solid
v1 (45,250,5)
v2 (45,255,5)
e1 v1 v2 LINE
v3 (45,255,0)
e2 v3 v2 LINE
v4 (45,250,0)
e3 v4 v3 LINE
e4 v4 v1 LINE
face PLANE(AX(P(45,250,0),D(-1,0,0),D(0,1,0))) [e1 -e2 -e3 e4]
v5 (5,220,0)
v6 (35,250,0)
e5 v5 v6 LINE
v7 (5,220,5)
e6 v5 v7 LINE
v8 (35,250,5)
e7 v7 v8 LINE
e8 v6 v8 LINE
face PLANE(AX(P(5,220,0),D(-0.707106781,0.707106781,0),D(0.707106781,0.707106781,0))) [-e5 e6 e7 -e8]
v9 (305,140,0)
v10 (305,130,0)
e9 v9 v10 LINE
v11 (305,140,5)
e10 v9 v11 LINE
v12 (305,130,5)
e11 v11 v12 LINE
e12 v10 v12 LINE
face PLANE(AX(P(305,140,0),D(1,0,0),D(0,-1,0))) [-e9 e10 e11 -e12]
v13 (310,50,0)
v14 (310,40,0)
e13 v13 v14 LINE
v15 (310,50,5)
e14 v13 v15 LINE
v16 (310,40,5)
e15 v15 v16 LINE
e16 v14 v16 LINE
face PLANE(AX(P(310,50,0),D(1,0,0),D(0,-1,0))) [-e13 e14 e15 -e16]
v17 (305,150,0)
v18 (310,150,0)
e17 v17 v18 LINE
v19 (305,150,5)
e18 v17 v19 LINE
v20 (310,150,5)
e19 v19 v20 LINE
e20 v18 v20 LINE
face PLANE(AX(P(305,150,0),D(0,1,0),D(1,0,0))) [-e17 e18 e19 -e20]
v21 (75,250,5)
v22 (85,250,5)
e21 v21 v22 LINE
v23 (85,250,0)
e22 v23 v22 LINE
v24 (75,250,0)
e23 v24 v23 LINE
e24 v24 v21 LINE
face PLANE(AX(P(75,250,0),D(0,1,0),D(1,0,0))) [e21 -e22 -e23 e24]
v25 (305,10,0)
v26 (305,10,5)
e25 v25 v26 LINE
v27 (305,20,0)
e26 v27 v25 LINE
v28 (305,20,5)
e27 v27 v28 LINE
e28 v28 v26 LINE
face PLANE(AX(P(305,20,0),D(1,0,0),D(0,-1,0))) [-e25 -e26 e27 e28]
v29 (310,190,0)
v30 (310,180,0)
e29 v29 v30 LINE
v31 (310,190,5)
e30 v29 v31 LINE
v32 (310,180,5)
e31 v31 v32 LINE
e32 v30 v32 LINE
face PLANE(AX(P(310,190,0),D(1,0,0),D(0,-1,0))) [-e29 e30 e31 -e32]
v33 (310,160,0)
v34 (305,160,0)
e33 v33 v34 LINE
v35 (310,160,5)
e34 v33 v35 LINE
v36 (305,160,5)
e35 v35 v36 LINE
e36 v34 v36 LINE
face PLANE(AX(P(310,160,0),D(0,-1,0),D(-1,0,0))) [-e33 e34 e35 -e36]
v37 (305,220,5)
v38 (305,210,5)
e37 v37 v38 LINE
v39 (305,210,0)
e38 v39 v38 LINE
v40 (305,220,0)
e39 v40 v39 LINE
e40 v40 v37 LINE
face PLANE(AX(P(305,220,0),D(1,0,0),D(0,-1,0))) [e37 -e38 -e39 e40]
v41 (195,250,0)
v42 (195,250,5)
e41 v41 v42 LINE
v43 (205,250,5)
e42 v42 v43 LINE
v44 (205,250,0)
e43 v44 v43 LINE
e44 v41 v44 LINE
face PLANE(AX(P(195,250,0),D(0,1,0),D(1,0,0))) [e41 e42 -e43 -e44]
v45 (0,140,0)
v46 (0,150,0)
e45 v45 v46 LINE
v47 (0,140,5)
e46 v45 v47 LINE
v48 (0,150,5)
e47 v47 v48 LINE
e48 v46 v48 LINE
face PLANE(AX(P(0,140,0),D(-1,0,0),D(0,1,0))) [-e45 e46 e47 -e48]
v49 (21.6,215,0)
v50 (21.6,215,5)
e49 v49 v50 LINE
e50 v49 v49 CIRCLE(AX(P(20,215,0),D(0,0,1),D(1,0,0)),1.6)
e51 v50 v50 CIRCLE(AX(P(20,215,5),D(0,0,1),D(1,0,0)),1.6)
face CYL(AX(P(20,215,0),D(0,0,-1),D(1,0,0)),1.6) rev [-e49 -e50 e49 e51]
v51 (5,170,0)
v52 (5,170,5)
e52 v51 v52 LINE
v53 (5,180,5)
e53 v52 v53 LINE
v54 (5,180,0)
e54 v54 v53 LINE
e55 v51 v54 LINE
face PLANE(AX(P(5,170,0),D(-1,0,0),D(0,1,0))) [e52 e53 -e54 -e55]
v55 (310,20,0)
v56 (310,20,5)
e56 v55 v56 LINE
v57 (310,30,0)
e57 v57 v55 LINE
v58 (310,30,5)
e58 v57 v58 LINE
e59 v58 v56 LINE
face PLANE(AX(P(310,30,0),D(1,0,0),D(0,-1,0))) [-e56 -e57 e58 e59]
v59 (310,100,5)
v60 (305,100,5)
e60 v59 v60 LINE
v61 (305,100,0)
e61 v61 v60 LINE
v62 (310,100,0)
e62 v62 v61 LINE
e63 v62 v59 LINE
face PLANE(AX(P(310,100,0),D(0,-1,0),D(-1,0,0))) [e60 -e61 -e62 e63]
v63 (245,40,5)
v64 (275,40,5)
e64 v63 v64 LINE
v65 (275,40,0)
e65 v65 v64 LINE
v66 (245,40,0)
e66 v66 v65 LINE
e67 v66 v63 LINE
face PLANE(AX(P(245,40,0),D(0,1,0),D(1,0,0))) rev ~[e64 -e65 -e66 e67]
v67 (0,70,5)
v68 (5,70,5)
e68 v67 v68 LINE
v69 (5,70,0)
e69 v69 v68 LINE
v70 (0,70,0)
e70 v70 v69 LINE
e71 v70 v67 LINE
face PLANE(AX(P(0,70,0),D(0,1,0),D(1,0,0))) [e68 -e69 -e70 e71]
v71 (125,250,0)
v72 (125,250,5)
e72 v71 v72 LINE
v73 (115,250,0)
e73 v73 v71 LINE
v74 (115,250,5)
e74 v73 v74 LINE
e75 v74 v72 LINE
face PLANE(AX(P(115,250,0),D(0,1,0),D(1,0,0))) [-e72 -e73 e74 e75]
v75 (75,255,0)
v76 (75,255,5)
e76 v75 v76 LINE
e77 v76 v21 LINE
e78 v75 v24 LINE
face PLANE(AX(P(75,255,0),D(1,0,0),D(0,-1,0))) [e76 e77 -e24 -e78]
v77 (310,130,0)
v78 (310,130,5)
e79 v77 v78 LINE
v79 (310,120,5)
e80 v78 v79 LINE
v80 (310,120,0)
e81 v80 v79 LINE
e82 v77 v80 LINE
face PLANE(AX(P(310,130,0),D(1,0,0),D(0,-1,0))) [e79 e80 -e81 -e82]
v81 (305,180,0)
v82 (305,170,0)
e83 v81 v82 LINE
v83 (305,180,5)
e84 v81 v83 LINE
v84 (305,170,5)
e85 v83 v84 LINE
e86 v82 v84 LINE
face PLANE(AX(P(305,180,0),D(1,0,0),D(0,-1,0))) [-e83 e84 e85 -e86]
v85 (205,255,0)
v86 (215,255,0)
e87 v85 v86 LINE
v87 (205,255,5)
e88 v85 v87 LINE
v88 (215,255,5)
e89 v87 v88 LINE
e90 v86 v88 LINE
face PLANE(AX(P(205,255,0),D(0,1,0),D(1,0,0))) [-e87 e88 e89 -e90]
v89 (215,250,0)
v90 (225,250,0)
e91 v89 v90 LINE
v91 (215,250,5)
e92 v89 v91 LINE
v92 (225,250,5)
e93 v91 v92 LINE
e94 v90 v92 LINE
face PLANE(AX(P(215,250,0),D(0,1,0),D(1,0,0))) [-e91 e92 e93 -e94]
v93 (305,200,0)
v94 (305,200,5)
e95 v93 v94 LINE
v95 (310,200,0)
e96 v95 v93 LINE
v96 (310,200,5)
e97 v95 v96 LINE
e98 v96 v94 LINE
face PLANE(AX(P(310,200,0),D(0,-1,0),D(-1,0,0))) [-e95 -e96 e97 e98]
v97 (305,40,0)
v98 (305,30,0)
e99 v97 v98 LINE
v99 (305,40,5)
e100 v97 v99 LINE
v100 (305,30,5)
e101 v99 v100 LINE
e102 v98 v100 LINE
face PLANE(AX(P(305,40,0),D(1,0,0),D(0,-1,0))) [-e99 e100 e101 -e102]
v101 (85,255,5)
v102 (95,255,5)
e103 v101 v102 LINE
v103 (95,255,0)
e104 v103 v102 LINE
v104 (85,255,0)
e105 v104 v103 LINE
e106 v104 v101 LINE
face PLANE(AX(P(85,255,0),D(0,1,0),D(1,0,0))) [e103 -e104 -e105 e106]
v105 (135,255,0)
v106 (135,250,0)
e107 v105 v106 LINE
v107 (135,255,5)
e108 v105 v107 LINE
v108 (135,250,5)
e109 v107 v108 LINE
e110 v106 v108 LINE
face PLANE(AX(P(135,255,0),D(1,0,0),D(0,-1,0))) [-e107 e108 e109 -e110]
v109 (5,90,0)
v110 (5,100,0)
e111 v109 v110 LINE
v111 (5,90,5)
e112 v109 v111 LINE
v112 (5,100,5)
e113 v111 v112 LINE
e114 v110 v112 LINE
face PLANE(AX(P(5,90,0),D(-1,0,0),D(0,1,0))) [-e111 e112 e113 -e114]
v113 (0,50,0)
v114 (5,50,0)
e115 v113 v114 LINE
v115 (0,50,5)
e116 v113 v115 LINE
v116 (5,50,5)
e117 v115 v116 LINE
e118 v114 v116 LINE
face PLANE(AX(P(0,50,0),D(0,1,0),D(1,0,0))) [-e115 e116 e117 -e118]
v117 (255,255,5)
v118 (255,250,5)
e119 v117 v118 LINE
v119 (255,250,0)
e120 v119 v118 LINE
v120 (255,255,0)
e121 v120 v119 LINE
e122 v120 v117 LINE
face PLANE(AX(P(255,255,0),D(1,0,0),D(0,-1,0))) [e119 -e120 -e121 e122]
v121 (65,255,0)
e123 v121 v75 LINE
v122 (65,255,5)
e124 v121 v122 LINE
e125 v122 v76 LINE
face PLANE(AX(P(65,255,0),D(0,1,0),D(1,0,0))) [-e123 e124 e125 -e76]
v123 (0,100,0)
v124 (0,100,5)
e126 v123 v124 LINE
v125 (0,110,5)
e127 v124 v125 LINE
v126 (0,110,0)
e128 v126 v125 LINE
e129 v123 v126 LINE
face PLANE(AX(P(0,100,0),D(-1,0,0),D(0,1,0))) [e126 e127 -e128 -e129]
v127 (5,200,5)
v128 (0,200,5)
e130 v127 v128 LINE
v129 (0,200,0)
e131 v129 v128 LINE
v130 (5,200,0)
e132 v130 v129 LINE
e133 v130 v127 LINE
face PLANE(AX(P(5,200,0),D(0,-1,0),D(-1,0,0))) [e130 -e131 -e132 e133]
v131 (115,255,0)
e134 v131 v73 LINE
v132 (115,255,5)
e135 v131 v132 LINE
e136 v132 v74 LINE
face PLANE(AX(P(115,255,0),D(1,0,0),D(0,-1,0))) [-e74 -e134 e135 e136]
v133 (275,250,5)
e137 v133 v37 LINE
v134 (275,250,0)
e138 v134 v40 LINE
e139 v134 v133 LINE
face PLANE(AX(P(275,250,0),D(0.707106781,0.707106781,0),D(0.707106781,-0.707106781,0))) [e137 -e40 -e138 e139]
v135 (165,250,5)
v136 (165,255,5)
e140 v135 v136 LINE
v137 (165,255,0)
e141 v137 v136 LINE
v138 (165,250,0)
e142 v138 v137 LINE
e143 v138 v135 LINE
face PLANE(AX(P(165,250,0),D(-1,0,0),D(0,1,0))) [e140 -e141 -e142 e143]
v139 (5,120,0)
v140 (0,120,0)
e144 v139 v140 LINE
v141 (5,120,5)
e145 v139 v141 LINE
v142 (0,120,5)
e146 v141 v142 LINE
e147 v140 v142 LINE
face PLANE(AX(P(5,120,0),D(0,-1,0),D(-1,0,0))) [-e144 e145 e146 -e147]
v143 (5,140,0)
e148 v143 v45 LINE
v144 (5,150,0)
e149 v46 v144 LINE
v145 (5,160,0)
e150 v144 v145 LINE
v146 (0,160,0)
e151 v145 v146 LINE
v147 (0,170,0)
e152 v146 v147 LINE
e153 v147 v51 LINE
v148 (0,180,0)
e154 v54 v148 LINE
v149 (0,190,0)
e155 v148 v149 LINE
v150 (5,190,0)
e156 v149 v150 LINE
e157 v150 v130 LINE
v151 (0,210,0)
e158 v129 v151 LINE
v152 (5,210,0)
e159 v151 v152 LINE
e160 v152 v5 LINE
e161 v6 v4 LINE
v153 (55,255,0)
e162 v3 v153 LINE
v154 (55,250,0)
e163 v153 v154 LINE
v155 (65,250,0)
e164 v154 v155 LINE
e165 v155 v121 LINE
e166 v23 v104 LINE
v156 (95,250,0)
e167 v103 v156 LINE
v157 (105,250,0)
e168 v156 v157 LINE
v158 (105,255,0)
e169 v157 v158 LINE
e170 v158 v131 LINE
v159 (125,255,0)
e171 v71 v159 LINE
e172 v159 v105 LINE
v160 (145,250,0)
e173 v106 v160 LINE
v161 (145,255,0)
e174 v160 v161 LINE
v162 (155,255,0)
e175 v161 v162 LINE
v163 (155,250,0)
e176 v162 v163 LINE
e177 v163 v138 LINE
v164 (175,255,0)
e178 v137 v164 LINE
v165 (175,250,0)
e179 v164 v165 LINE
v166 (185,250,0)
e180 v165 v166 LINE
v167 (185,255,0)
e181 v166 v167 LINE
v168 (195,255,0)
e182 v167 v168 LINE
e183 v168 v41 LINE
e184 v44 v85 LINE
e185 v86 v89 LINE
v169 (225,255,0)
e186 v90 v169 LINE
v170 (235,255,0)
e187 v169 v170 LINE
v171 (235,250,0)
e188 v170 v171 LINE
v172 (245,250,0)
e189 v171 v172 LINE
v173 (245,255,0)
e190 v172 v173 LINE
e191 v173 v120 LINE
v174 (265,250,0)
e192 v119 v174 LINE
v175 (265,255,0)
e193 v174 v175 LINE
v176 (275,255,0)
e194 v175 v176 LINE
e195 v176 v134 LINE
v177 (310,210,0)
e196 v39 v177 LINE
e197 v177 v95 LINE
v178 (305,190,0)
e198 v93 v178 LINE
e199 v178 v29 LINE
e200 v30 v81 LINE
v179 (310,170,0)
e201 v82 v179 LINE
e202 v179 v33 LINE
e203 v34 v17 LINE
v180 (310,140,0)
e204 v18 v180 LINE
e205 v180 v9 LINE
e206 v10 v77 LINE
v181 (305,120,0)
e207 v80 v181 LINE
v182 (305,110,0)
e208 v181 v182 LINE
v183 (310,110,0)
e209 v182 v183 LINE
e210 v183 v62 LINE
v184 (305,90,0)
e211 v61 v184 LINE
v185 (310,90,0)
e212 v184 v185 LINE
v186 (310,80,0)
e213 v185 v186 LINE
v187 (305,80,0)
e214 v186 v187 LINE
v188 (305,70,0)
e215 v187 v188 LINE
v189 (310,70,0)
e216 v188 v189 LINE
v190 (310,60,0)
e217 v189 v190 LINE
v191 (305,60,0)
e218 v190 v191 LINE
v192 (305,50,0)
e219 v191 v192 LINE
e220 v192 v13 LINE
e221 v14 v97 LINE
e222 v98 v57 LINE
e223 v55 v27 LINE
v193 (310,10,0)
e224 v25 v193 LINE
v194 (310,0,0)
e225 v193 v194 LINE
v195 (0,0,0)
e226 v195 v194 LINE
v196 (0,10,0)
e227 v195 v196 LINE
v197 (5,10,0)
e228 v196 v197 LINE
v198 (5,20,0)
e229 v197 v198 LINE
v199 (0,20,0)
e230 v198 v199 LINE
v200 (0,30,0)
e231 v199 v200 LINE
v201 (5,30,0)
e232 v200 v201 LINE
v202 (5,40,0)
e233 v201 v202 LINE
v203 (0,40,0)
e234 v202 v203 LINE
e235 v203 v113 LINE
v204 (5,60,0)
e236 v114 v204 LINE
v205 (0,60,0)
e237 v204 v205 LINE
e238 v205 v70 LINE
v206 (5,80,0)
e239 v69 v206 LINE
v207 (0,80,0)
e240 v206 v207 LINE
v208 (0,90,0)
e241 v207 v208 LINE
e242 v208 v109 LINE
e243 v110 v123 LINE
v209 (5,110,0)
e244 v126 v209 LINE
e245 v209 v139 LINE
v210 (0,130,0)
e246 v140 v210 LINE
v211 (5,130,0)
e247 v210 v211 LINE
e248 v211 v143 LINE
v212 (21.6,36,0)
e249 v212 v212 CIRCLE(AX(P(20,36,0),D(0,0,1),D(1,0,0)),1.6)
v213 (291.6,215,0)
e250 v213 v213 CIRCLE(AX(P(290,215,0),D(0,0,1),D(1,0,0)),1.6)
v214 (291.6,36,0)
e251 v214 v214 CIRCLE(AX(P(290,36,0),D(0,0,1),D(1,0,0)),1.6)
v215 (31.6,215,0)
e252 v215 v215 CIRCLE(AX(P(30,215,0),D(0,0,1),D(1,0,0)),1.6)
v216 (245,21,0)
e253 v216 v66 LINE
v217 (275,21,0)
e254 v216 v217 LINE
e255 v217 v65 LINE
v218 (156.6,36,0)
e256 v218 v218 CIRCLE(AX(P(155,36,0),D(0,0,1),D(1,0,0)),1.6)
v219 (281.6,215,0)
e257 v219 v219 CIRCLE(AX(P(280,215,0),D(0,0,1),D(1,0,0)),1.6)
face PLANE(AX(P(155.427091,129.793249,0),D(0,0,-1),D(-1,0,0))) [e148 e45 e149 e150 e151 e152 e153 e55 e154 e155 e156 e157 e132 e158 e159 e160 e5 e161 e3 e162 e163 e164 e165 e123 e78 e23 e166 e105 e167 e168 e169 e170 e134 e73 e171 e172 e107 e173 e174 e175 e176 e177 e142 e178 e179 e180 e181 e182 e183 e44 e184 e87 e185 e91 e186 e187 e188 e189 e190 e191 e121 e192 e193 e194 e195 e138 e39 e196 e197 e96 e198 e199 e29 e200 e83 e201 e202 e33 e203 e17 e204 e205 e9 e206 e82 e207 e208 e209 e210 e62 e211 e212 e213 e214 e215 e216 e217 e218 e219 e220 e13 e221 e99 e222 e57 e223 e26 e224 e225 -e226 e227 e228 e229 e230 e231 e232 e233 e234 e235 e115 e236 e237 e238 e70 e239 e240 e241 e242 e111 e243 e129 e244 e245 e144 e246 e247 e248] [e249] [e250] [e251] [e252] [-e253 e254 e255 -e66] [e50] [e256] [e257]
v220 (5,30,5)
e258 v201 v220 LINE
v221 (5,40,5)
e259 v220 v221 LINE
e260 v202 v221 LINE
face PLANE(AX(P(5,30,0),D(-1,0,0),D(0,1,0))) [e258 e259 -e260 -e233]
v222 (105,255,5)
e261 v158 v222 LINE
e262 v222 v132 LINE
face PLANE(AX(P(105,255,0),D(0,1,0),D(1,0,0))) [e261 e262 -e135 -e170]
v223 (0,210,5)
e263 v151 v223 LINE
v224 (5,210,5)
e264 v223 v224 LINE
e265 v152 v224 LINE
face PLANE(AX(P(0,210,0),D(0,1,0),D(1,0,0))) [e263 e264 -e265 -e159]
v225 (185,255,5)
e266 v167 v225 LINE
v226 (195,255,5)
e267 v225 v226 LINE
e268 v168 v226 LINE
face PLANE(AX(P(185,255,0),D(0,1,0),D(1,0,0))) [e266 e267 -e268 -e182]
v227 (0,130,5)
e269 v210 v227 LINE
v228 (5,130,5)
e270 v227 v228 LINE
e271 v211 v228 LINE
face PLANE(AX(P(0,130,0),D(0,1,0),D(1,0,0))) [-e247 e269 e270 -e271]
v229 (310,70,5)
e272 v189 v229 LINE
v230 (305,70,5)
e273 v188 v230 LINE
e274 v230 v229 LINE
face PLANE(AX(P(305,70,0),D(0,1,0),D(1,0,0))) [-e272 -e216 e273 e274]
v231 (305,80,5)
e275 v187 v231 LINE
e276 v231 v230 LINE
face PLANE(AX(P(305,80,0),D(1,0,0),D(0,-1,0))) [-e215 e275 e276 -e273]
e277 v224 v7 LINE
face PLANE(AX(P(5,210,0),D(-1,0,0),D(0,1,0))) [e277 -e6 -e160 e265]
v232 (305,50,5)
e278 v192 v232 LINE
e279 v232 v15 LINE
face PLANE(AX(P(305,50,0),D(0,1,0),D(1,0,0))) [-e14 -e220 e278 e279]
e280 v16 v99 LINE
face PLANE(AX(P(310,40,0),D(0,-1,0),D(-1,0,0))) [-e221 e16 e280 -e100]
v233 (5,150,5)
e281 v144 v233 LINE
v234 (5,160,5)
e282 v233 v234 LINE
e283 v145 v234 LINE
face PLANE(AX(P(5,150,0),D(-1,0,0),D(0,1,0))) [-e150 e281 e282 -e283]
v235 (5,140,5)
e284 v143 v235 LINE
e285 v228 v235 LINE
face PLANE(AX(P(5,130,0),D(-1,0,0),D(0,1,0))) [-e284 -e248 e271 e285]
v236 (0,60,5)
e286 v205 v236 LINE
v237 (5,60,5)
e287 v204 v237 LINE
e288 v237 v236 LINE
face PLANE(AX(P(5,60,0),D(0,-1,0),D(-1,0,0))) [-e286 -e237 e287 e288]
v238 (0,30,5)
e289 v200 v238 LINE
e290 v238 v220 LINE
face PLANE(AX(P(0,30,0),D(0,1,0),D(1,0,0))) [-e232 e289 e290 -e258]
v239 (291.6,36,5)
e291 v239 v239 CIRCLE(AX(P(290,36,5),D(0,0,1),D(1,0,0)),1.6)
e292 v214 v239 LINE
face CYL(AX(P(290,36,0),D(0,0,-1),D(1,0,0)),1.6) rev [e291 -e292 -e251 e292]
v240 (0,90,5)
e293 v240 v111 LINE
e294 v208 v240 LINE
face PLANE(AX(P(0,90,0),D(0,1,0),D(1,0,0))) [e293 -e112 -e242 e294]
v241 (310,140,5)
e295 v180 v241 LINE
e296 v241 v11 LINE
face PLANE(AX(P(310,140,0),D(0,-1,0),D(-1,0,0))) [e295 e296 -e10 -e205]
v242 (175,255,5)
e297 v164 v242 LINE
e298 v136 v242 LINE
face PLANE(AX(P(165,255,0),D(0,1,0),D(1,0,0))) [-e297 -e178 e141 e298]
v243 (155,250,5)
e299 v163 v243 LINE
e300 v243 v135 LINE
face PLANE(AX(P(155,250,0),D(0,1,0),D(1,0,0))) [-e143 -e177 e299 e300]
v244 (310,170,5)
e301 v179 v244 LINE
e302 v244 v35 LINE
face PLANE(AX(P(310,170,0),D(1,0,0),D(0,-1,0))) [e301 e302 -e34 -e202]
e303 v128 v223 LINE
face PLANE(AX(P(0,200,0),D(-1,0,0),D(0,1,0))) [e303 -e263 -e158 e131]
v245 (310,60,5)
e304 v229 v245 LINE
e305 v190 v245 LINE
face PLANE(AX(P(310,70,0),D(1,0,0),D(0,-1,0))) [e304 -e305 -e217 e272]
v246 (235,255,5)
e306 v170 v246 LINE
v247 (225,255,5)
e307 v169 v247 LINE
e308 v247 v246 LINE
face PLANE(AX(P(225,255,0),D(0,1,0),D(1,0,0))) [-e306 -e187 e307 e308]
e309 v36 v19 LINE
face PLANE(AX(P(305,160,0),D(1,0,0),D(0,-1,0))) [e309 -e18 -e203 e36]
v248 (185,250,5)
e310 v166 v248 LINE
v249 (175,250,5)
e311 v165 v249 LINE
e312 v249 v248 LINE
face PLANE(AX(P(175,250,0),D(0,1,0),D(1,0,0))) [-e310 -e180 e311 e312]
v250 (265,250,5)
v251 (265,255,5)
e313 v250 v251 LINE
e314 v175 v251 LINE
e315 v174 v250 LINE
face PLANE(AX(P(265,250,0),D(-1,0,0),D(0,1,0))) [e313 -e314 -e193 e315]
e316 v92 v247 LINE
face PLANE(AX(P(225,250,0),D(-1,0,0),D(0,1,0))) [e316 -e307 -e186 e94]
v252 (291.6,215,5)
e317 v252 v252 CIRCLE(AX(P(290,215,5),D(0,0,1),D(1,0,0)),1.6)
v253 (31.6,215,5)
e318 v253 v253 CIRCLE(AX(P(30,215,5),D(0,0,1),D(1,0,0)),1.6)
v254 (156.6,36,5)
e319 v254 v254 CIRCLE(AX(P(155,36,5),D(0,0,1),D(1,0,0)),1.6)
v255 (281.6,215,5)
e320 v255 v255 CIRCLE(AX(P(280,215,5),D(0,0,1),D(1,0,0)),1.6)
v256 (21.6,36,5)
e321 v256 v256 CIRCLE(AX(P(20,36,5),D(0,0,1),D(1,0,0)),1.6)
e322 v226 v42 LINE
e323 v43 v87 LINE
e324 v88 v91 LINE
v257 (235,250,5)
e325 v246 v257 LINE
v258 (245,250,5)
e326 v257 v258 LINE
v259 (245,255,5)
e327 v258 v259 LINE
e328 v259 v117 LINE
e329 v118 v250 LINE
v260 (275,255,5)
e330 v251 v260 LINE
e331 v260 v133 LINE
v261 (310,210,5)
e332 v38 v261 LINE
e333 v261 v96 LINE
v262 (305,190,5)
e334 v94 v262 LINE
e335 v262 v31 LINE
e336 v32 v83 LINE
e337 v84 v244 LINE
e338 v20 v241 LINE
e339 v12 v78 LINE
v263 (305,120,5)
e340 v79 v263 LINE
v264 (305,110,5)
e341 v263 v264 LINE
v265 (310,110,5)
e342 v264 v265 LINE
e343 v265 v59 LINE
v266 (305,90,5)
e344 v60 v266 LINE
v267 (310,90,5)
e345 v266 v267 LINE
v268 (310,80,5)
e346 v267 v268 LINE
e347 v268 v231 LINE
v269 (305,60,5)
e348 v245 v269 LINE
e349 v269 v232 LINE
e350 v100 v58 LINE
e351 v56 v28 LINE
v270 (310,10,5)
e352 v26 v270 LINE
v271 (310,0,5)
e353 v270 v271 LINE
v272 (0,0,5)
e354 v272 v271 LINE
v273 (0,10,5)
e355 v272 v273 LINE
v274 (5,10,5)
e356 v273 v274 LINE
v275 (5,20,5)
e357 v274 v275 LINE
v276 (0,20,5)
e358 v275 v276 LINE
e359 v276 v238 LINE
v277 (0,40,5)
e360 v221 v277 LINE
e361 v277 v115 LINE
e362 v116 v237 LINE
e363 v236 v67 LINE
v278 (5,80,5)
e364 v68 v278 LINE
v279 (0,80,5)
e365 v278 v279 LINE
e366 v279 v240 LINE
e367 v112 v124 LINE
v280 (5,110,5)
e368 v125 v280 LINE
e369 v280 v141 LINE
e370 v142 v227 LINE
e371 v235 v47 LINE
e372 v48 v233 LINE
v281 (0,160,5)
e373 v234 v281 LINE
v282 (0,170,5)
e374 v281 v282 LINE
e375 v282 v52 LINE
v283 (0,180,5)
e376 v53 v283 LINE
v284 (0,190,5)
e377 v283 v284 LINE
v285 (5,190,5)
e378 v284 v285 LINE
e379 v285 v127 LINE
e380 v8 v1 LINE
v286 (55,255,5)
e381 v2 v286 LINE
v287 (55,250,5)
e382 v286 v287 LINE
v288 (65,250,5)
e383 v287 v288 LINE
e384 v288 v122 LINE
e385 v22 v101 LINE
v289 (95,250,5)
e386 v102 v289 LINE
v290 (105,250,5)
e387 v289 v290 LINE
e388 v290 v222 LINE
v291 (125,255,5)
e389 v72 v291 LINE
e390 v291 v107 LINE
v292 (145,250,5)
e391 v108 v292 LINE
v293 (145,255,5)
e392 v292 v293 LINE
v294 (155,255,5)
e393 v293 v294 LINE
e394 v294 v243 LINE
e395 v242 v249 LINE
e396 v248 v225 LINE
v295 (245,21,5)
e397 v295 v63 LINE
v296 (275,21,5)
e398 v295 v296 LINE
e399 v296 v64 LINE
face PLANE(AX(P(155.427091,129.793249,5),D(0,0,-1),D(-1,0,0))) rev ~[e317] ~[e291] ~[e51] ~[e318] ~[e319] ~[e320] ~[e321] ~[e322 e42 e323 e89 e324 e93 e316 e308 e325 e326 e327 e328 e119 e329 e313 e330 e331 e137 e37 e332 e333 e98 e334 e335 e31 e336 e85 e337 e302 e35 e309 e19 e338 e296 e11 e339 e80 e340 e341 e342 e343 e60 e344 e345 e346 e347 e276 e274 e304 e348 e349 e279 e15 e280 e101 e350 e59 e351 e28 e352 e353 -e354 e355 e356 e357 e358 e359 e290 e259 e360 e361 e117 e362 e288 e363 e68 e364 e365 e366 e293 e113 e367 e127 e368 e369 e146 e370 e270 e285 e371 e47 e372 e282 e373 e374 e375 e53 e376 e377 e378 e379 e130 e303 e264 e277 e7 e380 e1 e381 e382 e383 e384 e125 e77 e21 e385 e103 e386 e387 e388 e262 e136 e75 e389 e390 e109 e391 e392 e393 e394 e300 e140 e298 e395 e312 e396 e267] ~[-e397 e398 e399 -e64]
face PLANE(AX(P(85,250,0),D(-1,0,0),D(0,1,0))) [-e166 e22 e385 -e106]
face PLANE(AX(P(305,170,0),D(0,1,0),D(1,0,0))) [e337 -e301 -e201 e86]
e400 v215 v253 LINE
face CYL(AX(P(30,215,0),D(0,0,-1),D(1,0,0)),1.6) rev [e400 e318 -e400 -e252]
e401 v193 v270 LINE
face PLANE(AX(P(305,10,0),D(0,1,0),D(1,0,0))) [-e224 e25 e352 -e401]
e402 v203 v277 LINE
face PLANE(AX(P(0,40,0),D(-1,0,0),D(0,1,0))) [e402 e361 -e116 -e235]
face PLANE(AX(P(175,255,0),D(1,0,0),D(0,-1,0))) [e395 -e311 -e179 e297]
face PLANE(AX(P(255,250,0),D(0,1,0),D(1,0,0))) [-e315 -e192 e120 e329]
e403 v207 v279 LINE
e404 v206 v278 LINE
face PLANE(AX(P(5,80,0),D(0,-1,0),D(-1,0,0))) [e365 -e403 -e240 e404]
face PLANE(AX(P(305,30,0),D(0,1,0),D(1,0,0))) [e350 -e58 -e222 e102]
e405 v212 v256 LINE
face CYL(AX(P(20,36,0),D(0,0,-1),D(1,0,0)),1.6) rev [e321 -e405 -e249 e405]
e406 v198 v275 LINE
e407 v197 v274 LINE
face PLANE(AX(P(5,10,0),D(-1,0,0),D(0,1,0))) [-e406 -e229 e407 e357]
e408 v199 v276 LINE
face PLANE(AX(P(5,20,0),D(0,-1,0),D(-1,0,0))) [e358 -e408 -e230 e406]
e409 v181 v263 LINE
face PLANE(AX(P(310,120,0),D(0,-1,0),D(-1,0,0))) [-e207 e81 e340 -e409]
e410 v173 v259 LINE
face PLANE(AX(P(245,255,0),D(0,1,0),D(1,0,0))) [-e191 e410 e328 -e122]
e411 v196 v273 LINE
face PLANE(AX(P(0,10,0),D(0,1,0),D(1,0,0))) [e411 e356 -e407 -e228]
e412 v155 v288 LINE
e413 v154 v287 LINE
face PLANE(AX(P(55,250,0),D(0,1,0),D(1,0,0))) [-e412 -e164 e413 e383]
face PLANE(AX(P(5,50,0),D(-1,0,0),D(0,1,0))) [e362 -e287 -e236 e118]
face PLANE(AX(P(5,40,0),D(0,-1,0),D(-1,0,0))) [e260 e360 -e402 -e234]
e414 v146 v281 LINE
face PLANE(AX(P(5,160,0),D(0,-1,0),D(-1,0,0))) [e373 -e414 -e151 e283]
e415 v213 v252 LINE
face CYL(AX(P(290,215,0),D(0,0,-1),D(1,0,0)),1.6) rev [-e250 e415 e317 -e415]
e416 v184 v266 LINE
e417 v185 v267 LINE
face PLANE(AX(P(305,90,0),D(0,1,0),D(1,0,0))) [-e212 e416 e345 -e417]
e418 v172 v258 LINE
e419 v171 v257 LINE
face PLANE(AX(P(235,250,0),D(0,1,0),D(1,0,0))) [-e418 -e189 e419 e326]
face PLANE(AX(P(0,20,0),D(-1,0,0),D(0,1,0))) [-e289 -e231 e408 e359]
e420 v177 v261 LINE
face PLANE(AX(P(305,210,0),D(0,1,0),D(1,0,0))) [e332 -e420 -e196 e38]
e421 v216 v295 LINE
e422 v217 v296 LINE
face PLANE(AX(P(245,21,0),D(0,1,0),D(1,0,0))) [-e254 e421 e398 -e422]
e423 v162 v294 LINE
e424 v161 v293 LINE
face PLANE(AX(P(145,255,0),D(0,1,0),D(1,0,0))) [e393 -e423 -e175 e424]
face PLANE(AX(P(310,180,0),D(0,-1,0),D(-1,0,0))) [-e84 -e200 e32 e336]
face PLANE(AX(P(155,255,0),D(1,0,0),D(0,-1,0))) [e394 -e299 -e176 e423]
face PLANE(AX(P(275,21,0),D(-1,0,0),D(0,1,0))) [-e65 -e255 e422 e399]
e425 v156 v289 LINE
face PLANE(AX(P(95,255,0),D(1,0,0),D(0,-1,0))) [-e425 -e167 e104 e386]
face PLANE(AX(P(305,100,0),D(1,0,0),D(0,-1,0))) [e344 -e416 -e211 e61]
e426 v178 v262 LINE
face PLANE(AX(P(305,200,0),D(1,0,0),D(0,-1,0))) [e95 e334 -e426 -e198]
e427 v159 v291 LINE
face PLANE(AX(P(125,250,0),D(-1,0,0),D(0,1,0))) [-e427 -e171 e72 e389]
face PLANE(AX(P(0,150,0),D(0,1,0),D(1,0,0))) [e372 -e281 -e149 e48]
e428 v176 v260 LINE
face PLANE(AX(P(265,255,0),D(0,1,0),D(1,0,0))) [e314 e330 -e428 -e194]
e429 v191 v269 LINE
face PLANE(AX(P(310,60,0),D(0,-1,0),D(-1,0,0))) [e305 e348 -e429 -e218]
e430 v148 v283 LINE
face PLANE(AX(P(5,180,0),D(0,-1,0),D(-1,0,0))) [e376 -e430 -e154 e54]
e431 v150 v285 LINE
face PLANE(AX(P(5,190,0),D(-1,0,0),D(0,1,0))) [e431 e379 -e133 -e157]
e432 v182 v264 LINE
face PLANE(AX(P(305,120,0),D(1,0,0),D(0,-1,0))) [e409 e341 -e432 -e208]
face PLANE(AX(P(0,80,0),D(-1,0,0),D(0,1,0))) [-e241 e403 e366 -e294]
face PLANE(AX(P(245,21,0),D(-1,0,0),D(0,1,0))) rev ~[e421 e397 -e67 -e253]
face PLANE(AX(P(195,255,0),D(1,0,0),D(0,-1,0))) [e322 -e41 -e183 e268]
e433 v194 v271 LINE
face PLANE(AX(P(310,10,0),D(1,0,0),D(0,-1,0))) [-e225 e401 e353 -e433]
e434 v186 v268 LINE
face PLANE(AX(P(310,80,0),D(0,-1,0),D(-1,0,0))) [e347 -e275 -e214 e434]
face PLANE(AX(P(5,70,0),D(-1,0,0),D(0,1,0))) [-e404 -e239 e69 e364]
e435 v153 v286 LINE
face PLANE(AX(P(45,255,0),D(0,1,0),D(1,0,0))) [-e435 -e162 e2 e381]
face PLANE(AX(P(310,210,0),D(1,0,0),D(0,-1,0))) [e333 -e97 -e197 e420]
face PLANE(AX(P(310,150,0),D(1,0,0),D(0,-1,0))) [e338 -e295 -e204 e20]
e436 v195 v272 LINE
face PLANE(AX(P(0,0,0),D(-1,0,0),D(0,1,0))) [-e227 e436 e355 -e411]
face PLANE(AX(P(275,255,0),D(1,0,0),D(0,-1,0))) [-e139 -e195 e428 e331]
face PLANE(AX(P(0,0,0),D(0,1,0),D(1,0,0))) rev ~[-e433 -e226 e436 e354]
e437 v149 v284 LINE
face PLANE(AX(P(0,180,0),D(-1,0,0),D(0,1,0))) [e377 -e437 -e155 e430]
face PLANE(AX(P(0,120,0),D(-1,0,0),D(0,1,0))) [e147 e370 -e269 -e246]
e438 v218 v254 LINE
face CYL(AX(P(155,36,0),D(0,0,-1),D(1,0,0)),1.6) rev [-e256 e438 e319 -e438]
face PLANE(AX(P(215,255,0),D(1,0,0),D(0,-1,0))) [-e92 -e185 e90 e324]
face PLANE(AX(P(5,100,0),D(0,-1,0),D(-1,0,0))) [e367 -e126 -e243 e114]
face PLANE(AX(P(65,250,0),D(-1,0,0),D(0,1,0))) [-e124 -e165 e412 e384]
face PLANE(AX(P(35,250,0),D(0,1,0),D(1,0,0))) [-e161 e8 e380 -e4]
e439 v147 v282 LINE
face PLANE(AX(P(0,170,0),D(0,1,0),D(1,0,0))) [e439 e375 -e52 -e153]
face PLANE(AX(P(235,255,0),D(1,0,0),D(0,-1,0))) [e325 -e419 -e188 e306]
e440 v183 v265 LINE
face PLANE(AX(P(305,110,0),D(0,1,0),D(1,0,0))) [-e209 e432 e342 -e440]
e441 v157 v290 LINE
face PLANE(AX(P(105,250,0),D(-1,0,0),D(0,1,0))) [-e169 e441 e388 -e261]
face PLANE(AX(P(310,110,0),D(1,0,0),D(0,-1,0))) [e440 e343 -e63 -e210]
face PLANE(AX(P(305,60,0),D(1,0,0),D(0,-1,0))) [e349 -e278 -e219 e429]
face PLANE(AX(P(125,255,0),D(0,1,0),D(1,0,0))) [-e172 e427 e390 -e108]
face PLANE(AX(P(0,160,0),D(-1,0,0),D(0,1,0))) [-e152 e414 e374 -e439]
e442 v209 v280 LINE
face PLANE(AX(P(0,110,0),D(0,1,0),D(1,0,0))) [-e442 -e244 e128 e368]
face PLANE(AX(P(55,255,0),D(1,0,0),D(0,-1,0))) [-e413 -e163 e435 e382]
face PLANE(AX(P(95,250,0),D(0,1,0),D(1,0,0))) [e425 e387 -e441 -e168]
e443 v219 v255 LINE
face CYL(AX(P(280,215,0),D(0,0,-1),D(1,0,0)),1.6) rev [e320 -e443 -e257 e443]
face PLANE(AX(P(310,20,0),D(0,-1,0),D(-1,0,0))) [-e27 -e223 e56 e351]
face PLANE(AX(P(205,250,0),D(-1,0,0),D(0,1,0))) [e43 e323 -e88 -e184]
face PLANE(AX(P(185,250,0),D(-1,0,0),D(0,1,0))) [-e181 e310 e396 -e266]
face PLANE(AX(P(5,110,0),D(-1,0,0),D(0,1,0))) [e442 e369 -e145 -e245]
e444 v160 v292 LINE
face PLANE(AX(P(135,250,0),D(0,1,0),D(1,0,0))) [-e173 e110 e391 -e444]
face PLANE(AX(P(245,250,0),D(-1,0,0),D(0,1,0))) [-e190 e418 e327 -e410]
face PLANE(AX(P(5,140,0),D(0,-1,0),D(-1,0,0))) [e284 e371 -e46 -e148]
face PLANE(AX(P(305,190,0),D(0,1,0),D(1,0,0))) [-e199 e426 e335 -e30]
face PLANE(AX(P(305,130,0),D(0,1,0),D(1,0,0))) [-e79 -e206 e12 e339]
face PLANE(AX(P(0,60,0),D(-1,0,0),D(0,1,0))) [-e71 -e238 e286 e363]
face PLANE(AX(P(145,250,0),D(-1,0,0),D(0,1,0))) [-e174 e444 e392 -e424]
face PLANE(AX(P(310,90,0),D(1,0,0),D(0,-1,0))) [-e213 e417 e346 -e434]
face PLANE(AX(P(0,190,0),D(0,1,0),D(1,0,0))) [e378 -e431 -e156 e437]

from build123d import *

# Parameters (mm, degrees)
SKIZZE1_R                       = 1.6
SKIZZE1_W                       = 30
SKIZZE1_H                       = 19
AUFSATZ_LINEAR_AUSTRAGEN1_DEPTH = 5


with BuildPart() as part:
    # Skizze1 → Aufsatz-Linear austragen1 (new body)
    with BuildSketch(Plane.XY):
        Polygon((5, 10), (5, 20), (0, 20), (0, 30), (5, 30), (5, 40), (0, 40), (0, 50), (5, 50), (5, 60), (0, 60), (0, 70), (5, 70), (5, 80), (0, 80), (0, 90), (5, 90), (5, 100), (0, 100), (0, 110), (5, 110), (5, 120), (0, 120), (0, 130), (5, 130), (5, 140), (0, 140), (0, 150), (5, 150), (5, 160), (0, 160), (0, 170), (5, 170), (5, 180), (0, 180), (0, 190), (5, 190), (5, 200), (0, 200), (0, 210), (5, 210), (5, 220), (35, 250), (45, 250), (45, 255), (55, 255), (55, 250), (65, 250), (65, 255), (75, 255), (75, 250), (85, 250), (85, 255), (95, 255), (95, 250), (105, 250), (105, 255), (115, 255), (115, 250), (125, 250), (125, 255), (135, 255), (135, 250), (145, 250), (145, 255), (155, 255), (155, 250), (165, 250), (165, 255), (175, 255), (175, 250), (185, 250), (185, 255), (195, 255), (195, 250), (205, 250), (205, 255), (215, 255), (215, 250), (225, 250), (225, 255), (235, 255), (235, 250), (245, 250), (245, 255), (255, 255), (255, 250), (265, 250), (265, 255), (275, 255), (275, 250), (305, 220), (305, 210), (310, 210), (310, 200), (305, 200), (305, 190), (310, 190), (310, 180), (305, 180), (305, 170), (310, 170), (310, 160), (305, 160), (305, 150), (310, 150), (310, 140), (305, 140), (305, 130), (310, 130), (310, 120), (305, 120), (305, 110), (310, 110), (310, 100), (305, 100), (305, 90), (310, 90), (310, 80), (305, 80), (305, 70), (310, 70), (310, 60), (305, 60), (305, 50), (310, 50), (310, 40), (305, 40), (305, 30), (310, 30), (310, 20), (305, 20), (305, 10), (310, 10), (310, 0), (305, 0), (5, 0), (0, 0), (0, 10), align=None)
        with Locations((20, 215)):
            Circle(SKIZZE1_R, mode=Mode.SUBTRACT)
        with Locations((30, 215)):
            Circle(SKIZZE1_R, mode=Mode.SUBTRACT)
        with Locations((290, 215)):
            Circle(SKIZZE1_R, mode=Mode.SUBTRACT)
        with Locations((280, 215)):
            Circle(SKIZZE1_R, mode=Mode.SUBTRACT)
        with Locations((20, 36)):
            Circle(SKIZZE1_R, mode=Mode.SUBTRACT)
        with Locations((155, 36)):
            Circle(SKIZZE1_R, mode=Mode.SUBTRACT)
        with Locations((290, 36)):
            Circle(SKIZZE1_R, mode=Mode.SUBTRACT)
        with Locations((260, 30.5)):
            Rectangle(SKIZZE1_W, SKIZZE1_H, mode=Mode.SUBTRACT)
    extrude(amount=AUFSATZ_LINEAR_AUSTRAGEN1_DEPTH)


solid = part.part
